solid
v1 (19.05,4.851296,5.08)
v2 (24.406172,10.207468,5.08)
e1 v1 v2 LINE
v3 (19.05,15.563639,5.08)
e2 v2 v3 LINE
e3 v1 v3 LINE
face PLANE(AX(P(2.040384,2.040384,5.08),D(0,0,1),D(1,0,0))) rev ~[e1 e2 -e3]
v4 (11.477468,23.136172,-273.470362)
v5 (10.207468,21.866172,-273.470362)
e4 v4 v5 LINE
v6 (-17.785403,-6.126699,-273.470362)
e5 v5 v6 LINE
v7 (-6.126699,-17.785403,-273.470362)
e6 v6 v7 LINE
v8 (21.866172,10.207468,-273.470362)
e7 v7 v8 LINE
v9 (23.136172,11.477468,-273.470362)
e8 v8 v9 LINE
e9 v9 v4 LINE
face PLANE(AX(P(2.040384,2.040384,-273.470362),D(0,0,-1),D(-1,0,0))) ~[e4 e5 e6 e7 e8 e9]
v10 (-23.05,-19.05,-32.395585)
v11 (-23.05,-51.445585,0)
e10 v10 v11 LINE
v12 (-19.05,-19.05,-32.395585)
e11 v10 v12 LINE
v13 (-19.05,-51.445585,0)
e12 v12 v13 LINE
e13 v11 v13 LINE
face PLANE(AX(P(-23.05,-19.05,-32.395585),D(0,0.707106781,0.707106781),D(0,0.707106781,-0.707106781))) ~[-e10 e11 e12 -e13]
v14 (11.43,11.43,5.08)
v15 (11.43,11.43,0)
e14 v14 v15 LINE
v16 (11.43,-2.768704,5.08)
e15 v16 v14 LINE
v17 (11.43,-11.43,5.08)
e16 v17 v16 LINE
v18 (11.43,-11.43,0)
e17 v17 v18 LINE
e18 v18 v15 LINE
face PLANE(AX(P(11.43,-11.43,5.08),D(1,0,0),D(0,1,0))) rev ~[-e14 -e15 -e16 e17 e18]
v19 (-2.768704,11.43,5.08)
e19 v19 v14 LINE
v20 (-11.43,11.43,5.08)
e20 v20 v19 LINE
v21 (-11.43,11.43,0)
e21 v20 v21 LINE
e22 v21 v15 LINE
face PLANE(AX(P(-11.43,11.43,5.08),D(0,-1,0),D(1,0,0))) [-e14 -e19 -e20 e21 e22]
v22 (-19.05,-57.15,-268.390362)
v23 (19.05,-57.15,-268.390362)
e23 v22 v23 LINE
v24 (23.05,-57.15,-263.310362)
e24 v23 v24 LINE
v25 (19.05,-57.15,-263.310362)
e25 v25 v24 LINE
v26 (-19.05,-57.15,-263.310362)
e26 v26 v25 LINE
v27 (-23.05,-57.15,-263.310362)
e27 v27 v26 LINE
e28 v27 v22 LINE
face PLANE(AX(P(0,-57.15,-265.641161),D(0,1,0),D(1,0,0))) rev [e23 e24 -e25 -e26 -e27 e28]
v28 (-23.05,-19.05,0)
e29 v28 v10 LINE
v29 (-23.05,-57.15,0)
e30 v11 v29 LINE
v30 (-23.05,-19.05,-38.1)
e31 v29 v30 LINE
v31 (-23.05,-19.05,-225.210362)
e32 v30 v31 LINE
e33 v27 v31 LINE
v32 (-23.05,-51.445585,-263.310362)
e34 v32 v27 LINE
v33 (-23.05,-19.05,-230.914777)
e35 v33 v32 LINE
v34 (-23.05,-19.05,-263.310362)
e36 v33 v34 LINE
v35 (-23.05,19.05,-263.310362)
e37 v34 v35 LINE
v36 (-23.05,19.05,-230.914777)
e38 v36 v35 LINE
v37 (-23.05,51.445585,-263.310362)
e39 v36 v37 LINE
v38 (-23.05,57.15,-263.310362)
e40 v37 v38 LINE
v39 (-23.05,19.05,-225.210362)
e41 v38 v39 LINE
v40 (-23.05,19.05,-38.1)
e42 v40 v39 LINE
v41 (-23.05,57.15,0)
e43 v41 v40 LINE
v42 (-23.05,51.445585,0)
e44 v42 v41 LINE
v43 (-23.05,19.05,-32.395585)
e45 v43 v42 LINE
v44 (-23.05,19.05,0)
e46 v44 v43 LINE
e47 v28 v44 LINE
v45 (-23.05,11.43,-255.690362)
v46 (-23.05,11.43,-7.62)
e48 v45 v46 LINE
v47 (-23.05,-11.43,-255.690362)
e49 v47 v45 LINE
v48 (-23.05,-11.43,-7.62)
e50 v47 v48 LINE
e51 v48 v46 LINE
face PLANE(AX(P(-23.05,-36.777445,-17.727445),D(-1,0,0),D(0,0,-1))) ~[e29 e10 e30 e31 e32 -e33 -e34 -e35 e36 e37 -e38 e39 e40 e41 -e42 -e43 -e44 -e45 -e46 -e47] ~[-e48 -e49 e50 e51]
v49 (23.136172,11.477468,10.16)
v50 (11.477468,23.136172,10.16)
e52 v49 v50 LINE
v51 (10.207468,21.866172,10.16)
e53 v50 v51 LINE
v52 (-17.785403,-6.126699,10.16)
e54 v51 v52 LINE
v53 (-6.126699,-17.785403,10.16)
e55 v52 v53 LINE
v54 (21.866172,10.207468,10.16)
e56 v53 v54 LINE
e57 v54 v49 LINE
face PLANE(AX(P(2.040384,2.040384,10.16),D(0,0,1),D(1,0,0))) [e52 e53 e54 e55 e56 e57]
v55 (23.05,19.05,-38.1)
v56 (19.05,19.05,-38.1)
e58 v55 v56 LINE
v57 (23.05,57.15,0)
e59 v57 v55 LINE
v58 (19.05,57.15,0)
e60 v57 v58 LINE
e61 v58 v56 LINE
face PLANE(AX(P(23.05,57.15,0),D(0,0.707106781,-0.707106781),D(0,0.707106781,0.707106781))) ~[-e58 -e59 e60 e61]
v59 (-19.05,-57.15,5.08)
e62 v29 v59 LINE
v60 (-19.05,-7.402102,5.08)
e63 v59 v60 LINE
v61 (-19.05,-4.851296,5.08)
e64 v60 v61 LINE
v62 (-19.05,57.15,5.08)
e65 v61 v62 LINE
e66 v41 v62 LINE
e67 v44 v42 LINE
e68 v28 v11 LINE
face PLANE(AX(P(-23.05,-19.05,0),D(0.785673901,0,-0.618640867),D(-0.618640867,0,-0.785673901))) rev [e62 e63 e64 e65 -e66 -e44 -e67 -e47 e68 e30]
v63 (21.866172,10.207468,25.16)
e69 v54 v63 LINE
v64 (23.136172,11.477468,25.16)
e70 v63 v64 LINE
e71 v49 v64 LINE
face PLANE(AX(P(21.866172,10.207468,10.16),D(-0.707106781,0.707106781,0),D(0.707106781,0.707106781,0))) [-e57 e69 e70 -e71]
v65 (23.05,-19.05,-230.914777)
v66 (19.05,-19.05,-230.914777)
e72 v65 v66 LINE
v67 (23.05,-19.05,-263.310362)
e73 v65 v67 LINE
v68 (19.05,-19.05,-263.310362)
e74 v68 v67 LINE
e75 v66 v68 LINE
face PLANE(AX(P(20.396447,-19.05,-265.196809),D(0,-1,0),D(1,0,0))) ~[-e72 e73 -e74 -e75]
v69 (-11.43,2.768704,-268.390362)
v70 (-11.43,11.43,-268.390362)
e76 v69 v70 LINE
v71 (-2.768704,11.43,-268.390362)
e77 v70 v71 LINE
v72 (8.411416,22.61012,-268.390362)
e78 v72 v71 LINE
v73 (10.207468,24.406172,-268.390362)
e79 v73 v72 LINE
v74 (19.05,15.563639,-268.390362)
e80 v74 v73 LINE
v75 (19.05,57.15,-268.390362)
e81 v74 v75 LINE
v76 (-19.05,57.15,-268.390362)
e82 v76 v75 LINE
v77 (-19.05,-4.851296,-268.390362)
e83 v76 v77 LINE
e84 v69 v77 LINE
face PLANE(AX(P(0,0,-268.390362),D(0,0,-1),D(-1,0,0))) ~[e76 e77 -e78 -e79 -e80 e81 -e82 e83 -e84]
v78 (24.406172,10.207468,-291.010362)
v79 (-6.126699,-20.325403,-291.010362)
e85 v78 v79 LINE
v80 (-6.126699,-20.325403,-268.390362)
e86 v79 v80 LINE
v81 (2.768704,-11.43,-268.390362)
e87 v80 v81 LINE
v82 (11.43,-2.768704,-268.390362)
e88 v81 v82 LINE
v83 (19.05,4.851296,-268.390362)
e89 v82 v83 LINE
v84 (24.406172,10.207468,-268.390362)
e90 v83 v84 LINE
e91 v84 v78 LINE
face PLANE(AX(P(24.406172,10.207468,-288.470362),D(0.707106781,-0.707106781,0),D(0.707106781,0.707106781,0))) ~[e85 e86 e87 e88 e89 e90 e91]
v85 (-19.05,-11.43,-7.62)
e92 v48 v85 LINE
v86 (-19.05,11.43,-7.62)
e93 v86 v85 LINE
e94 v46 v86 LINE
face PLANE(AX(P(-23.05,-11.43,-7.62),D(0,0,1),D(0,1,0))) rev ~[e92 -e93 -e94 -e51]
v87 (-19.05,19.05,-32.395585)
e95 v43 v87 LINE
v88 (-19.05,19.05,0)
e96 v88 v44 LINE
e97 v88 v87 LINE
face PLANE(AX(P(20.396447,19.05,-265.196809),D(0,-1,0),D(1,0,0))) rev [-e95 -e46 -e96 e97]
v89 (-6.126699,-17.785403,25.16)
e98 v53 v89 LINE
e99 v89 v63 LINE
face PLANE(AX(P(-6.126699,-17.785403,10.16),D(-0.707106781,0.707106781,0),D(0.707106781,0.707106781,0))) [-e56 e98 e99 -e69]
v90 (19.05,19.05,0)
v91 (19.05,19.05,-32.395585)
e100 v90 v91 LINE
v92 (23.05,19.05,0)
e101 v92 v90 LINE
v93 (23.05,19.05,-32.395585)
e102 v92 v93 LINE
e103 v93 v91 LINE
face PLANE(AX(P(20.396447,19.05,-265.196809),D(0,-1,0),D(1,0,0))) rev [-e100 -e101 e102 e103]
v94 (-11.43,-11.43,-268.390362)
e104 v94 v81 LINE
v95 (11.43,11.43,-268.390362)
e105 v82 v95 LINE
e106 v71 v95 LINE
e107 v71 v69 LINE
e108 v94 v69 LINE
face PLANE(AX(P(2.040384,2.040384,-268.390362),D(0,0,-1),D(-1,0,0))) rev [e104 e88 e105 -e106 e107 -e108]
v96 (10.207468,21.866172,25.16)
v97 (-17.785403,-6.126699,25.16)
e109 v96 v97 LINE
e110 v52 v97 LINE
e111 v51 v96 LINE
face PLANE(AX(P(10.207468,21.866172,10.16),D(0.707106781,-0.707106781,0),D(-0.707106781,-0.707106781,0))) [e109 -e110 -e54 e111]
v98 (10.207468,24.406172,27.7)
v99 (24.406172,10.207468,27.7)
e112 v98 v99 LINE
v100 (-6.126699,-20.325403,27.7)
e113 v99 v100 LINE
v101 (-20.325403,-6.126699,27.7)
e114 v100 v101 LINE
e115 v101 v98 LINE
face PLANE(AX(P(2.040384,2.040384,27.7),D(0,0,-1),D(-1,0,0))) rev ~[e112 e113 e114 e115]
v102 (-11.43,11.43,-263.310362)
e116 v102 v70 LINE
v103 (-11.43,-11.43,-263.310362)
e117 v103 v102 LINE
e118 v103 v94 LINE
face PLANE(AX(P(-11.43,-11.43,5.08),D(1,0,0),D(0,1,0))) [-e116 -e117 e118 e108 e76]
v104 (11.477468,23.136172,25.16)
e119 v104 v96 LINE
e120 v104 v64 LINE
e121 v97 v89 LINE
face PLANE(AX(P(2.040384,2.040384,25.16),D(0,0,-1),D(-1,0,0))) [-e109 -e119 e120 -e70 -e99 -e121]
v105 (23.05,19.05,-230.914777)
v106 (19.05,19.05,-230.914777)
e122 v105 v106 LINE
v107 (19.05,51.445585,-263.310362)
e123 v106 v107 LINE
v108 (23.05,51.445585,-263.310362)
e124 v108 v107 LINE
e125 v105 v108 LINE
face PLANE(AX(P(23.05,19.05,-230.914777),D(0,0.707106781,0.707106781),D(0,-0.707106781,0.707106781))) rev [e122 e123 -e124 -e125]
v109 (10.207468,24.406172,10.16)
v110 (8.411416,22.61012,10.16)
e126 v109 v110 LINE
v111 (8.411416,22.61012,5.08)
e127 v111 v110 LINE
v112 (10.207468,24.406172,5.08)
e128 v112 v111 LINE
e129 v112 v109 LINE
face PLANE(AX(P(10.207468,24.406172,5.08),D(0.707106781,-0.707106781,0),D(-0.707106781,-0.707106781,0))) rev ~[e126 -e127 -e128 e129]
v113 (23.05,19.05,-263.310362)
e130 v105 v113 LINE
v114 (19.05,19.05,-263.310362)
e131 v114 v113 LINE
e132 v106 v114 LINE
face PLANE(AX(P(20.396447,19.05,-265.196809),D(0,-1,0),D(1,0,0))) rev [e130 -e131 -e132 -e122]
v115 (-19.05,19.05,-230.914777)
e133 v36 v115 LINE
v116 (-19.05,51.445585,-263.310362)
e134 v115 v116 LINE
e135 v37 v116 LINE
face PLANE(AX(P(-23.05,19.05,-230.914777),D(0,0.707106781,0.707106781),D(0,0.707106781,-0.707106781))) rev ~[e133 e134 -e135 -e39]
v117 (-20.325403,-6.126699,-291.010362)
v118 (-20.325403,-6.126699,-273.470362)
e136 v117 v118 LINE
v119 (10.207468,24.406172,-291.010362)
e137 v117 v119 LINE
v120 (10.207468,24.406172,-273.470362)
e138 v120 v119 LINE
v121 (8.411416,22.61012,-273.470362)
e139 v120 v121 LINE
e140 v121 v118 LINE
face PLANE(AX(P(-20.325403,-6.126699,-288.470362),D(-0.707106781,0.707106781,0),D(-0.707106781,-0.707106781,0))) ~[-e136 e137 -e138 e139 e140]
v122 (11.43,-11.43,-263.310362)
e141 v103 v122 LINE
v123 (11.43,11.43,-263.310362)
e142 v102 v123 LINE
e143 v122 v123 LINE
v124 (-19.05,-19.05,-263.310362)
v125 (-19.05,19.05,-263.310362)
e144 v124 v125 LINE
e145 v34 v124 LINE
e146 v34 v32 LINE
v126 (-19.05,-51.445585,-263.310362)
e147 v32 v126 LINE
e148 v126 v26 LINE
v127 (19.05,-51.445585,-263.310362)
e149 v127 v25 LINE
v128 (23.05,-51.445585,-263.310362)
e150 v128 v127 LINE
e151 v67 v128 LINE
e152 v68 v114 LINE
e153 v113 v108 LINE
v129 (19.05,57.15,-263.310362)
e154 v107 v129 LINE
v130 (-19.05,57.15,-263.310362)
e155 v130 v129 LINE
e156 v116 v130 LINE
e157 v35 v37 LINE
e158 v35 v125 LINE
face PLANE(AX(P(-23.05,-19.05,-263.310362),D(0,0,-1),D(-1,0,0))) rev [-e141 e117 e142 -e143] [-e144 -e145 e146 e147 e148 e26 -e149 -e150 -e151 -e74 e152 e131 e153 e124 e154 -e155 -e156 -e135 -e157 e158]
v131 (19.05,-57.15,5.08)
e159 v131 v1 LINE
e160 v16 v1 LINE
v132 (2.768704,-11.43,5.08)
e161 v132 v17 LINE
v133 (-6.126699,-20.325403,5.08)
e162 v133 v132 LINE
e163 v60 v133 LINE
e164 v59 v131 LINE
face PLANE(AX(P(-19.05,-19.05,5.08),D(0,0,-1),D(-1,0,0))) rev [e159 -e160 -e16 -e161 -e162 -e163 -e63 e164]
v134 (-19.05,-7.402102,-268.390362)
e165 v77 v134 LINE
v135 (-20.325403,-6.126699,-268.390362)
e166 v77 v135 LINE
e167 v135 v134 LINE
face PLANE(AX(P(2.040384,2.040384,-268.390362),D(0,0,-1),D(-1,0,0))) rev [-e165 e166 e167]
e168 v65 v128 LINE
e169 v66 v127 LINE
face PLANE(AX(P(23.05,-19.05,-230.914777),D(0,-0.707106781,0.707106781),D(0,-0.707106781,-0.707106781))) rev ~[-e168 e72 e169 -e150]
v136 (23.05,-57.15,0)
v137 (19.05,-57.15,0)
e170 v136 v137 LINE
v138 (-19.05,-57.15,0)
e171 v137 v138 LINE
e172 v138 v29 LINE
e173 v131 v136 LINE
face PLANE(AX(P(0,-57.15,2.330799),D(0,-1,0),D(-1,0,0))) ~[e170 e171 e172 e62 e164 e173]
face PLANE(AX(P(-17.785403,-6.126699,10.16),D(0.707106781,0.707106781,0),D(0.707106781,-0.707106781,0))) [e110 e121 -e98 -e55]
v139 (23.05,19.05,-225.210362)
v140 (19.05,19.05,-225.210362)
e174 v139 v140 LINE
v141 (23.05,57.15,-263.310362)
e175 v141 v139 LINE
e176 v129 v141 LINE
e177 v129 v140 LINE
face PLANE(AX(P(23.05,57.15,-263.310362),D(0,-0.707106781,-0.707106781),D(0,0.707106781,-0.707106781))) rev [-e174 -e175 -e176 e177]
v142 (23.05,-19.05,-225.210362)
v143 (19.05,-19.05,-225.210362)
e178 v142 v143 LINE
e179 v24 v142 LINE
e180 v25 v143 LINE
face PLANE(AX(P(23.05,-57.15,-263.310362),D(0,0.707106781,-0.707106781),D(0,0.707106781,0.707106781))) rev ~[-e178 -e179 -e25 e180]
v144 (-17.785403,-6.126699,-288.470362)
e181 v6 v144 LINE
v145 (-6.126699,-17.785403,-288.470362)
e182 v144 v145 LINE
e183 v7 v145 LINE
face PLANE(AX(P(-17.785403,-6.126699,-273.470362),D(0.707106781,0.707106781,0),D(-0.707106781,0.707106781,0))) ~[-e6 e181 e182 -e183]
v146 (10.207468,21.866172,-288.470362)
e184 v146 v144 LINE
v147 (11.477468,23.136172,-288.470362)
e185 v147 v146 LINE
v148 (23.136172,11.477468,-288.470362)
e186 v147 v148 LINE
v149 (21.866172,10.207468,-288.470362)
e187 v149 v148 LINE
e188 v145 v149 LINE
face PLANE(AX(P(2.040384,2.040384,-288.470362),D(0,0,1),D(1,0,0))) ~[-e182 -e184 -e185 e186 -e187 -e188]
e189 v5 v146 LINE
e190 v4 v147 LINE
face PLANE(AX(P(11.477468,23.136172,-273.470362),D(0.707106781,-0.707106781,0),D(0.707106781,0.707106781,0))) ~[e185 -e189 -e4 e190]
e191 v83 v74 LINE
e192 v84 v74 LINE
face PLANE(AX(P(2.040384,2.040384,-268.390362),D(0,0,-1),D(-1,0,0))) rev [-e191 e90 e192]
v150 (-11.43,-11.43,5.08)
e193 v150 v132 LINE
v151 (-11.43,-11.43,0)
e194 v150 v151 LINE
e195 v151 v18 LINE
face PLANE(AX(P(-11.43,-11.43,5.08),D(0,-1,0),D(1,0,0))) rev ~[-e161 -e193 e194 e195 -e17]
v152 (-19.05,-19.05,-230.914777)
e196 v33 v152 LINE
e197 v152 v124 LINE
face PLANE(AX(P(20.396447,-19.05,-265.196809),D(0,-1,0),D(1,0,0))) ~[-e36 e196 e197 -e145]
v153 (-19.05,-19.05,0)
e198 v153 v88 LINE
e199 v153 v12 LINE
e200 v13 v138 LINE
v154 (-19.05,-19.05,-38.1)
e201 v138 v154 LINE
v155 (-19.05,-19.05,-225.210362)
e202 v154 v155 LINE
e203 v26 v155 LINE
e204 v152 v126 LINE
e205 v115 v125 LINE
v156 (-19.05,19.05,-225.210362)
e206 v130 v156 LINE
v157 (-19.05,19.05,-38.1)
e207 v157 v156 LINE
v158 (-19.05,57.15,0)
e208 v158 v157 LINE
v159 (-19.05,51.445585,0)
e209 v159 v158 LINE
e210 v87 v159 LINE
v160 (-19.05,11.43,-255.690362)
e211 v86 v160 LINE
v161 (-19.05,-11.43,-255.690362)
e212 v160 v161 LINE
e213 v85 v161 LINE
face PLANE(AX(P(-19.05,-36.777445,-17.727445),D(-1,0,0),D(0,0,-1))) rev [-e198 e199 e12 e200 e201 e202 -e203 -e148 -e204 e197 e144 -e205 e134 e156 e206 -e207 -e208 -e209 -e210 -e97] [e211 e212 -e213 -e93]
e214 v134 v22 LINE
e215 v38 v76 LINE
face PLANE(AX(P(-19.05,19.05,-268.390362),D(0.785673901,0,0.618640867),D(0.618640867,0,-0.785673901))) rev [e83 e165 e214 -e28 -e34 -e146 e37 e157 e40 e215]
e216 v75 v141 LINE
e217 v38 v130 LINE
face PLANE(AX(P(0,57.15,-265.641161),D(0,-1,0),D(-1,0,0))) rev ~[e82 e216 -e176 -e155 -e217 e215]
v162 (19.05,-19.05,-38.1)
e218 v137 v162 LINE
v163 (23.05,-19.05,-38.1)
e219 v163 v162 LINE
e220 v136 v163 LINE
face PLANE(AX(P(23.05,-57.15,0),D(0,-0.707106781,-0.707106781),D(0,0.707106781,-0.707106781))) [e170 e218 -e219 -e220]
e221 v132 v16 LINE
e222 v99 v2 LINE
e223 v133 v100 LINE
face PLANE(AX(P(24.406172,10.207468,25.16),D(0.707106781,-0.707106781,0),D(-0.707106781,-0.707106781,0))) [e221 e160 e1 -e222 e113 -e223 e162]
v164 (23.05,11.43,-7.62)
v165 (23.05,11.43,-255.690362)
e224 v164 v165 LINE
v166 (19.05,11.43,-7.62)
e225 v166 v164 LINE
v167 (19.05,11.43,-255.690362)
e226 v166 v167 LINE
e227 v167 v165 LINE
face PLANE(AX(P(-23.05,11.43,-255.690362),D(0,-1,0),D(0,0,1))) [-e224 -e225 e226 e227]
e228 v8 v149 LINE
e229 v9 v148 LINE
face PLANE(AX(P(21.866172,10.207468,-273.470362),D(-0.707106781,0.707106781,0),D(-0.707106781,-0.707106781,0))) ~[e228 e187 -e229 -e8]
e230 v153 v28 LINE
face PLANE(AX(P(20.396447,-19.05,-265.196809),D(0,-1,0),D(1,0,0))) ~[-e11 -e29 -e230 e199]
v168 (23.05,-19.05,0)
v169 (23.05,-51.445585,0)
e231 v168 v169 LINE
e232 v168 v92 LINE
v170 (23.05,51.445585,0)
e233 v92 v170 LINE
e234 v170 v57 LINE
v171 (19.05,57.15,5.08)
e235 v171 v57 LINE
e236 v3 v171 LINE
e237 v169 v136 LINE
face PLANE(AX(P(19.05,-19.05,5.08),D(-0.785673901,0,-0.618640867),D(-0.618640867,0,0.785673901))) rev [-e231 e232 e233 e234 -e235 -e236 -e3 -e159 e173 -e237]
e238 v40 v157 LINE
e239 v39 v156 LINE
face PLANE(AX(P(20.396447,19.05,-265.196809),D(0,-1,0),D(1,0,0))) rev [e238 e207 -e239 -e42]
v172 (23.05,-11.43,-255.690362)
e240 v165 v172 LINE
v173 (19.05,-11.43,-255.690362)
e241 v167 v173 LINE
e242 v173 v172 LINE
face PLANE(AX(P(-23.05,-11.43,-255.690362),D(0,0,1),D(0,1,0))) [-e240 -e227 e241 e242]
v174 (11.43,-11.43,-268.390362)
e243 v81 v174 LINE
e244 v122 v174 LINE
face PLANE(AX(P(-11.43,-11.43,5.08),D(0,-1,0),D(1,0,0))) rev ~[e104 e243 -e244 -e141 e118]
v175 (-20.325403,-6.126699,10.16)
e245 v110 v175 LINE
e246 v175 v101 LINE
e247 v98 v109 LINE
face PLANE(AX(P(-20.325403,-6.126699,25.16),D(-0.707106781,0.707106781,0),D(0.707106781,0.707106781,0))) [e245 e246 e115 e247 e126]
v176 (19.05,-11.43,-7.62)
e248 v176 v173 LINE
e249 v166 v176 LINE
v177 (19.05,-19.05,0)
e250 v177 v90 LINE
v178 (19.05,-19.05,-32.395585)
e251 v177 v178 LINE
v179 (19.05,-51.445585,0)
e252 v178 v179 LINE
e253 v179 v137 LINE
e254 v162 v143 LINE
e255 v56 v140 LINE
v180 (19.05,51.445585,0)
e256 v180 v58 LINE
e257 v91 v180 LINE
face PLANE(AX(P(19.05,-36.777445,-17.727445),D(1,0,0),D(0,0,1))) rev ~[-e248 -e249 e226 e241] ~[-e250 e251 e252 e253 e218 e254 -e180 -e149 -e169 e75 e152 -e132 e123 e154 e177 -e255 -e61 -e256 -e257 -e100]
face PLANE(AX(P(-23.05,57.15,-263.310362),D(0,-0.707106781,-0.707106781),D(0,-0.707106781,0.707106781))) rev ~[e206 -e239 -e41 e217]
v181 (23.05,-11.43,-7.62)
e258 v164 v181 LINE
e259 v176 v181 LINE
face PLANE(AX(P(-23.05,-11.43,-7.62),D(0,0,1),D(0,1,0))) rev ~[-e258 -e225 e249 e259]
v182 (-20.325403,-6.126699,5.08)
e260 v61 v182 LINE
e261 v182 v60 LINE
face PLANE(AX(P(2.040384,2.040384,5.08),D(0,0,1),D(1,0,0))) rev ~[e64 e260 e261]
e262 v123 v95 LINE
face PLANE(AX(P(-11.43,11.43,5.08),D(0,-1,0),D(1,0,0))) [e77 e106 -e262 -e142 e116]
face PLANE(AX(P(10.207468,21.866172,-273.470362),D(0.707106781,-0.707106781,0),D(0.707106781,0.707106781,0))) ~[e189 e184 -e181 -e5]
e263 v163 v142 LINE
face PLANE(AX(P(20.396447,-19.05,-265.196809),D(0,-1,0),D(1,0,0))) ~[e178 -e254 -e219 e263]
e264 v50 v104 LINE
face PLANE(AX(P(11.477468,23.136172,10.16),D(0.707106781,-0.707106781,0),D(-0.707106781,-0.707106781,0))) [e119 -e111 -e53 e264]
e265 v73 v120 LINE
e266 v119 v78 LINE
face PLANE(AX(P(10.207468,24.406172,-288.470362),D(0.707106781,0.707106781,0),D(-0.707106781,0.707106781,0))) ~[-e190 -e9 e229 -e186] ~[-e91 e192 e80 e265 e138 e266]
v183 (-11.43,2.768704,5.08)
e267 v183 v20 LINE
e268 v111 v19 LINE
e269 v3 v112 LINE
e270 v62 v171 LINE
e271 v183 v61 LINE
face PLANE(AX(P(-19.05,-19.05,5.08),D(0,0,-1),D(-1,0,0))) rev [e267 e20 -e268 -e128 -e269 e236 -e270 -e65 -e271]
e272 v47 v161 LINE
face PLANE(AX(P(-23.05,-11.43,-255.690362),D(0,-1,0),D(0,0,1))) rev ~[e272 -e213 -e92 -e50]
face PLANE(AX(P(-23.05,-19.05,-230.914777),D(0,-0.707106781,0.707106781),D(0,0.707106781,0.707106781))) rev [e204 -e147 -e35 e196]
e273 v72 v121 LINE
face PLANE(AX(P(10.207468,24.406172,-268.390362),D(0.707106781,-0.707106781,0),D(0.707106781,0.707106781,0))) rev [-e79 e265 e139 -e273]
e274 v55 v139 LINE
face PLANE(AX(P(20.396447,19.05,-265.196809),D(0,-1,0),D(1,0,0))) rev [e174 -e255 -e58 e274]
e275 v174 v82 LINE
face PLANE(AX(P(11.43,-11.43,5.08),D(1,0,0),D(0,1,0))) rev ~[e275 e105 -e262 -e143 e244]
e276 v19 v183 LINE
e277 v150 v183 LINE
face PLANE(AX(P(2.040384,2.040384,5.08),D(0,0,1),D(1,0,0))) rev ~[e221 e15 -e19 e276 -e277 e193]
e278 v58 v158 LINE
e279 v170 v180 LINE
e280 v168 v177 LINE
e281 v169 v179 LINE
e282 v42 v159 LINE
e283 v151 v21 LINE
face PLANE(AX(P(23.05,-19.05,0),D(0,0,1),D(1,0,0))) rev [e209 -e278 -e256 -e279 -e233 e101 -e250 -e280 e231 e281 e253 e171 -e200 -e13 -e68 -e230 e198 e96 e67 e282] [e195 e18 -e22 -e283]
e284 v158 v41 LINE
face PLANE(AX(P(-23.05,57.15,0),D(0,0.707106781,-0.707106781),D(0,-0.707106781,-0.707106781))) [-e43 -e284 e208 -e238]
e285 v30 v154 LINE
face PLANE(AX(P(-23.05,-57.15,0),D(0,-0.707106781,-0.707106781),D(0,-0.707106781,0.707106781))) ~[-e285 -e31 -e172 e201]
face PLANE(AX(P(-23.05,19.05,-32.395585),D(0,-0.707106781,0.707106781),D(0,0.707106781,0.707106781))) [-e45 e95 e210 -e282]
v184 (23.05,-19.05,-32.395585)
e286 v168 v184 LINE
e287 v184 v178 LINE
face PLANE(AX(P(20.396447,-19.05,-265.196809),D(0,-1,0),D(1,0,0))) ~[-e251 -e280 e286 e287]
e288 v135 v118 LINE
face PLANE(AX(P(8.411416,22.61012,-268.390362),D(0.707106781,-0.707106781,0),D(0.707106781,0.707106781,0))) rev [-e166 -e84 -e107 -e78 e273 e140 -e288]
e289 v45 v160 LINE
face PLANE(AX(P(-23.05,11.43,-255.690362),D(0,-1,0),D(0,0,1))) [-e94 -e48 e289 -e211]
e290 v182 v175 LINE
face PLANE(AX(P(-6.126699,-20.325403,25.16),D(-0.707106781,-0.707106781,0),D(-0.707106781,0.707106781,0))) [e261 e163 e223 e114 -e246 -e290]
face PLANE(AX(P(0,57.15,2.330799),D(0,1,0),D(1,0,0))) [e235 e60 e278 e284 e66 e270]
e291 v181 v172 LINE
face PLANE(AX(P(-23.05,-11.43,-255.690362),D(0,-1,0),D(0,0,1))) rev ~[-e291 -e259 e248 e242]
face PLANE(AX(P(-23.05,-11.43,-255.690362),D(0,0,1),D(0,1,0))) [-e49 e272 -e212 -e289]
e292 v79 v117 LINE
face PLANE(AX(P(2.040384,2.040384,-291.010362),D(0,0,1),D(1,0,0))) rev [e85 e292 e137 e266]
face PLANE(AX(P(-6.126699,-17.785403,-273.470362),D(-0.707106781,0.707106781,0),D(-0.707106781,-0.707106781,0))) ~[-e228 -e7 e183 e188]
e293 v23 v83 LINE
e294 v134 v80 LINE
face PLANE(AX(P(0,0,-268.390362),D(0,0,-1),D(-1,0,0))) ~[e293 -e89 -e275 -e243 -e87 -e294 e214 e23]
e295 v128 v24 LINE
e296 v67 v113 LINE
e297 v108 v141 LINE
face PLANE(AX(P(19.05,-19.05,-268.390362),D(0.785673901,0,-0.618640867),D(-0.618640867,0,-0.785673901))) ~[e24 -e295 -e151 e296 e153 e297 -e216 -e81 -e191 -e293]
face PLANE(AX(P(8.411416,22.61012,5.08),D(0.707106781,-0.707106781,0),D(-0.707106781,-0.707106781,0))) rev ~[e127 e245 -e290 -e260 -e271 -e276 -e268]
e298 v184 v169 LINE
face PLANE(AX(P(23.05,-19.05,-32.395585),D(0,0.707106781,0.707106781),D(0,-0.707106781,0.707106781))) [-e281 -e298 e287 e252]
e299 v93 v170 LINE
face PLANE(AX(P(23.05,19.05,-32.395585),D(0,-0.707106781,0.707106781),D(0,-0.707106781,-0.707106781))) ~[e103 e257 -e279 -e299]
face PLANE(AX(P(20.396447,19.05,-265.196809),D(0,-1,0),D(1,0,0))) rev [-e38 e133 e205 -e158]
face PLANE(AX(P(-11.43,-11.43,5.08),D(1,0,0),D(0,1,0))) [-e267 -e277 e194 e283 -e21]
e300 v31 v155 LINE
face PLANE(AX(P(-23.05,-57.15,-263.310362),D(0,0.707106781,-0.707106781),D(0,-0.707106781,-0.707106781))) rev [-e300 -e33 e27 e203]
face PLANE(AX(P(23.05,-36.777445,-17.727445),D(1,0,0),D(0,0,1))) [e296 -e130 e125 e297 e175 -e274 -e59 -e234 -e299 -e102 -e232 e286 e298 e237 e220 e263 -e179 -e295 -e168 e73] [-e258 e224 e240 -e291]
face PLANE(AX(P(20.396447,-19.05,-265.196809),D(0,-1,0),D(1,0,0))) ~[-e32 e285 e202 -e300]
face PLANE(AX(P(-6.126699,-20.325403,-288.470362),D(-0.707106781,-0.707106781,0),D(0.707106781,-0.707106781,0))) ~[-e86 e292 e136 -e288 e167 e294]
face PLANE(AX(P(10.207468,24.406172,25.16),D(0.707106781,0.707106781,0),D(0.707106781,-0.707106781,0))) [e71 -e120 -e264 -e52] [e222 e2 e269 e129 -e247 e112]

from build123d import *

# Parameters (mm, degrees)
SKETCH1_W             = 38.1
SKETCH1_H             = 38.1
BOSS_EXTRUDE1_DEPTH   = 5.08
SKETCH2_W             = 4
SKETCH2_H             = 38.1
BOSS_EXTRUDE2_DEPTH   = 263.31036223
BOSS_EXTRUDE2_2_DEPTH = 263.31036223
BOSS_EXTRUDE4_DEPTH   = 38.1
SKETCH5_W             = 22.86
SKETCH5_H             = 22.86
CUT_EXTRUDE1_DEPTH    = 354.24236223
SKETCH6_W             = 248.07036223
SKETCH6_H             = 22.86
CUT_EXTRUDE2_DEPTH    = 354.24236223
BOSS_EXTRUDE5_DEPTH   = 38.1
BOSS_EXTRUDE6_DEPTH   = 4
MIRROR9_COPY_1_DEPTH  = 4
BOSS_EXTRUDE8_DEPTH   = 5.08
BOSS_EXTRUDE9_DEPTH   = 15
BOSS_EXTRUDE10_DEPTH  = 2.54


with BuildPart() as part:
    # Sketch1 → Boss-Extrude1 (new body)
    with BuildSketch(Plane.XY):
        Rectangle(SKETCH1_W, SKETCH1_H)
    extrude(amount=BOSS_EXTRUDE1_DEPTH)



with BuildPart() as body_2:
    # Sketch2 → Boss-Extrude2 (new body)
    with BuildSketch(Plane(origin=(0, 0, 0), x_dir=(-1, 0, 0), z_dir=(0, 0, -1))):
        with Locations((21.05, 0)):
            Rectangle(SKETCH2_W, SKETCH2_H)
    extrude(amount=BOSS_EXTRUDE2_DEPTH)


with BuildPart() as body_3:
    # Sketch2 → Boss-Extrude2 2 (new body)
    with BuildSketch(Plane(origin=(0, 0, 0), x_dir=(-1, 0, 0), z_dir=(0, 0, -1))):
        with Locations((-21.05, 0)):
            Rectangle(SKETCH2_W, SKETCH2_H)
    extrude(amount=BOSS_EXTRUDE2_2_DEPTH)


with BuildPart() as part_1:
    add(part.part)

    add(body_2.part)  # Boss-Extrude4 merges body 2

    add(body_3.part)  # Boss-Extrude4 merges body 3
    # Sketch4 → Boss-Extrude4 (add)
    with BuildSketch(Plane(origin=(0, 19.05, 0), x_dir=(1, 0, 0), z_dir=(0, 1, 0))):
        Polygon((23.05, 0), (19.05, -5.08), (19.05, 0), align=None)
        Polygon((-19.05, 0), (-19.05, -5.08), (-23.05, 0), align=None)
    extrude(amount=-BOSS_EXTRUDE4_DEPTH)

    # Mirror2: part across plane


with BuildPart() as part_2:
    add(part_1.part)
    add(part_1.part.mirror(Plane(origin=(0, 0, -131.655181115), x_dir=(1, 0, 0), z_dir=(0, 0, -1))))

    # Sketch5 → Cut-Extrude1 (cut)
    with BuildSketch(Plane.XY.offset(5.08)):
        Rectangle(SKETCH5_W, SKETCH5_H)
    extrude(amount=-CUT_EXTRUDE1_DEPTH, mode=Mode.SUBTRACT)

    # Sketch6 → Cut-Extrude2 (cut)
    with BuildSketch(Plane.ZY.offset(23.05)):
        with Locations((-131.655181115, 0)):
            Rectangle(SKETCH6_W, SKETCH6_H)
    extrude(amount=-CUT_EXTRUDE2_DEPTH, mode=Mode.SUBTRACT)

    # Sketch7 → Boss-Extrude5 (add)
    with BuildSketch(Plane(origin=(0, 19.05, 0), x_dir=(1, 0, 0), z_dir=(0, 1, 0))):
        Polygon((-19.05, 0), (-23.05, 0), (-19.05, -5.08), (19.05, -5.08), (23.05, 0), (19.05, 0), align=None)
        Polygon((19.05, 268.39036223), (23.05, 263.31036223), (19.05, 263.31036223), (-19.05, 263.31036223), (-23.05, 263.31036223), (-19.05, 268.39036223), align=None)
    boss_extrude5 = extrude(amount=BOSS_EXTRUDE5_DEPTH)

    # Sketch8 → Boss-Extrude6 (add)
    with BuildSketch(Plane.ZY.offset(23.05)):
        Polygon((0, 57.15), (-38.1, 19.05), (-32.395584898, 19.05), (0, 51.445584898), align=None)
        Polygon((-230.914777332, 19.05), (-263.31036223, 51.445584898), (-263.31036223, 57.15), (-225.21036223, 19.05), align=None)
    boss_extrude6 = extrude(amount=-BOSS_EXTRUDE6_DEPTH)

    # Mirror8: Boss-Extrude6 across plane
    add(boss_extrude6.mirror(Plane(origin=(0, 0, 0), x_dir=(0, 0, 1), z_dir=(1, 0, 0))))

    # Mirror9: Boss-Extrude5, Boss-Extrude6 across plane
    add(boss_extrude5.mirror(Plane.ZX))
    add(boss_extrude6.mirror(Plane.ZX))

    # Mirror9 copy 1 sketch → Mirror9 copy 1 (add)
    with BuildSketch(Plane(origin=(23.05, 0, 0), x_dir=(0, 0, 1), z_dir=(1, 0, 0))):
        Polygon((0, 57.15), (-38.1, 19.05), (-32.395584898, 19.05), (0, 51.445584898), align=None)
        Polygon((-230.914777332, 19.05), (-263.31036223, 51.445584898), (-263.31036223, 57.15), (-225.21036223, 19.05), align=None)
    extrude(amount=-MIRROR9_COPY_1_DEPTH)

    # Sketch11 → Boss-Extrude8 (add)
    with BuildSketch(Plane.XY.offset(5.08)):
        Polygon((-18.529352083, -7.922750365), (-7.922750365, -18.529352083), (-6.126699141, -20.325403307), (24.406171671, 10.207467504), (10.207467504, 24.406171671), (8.41141628, 22.610120446), (-20.325403307, -6.126699141), align=None)
    boss_extrude8 = extrude(amount=BOSS_EXTRUDE8_DEPTH)

    # Sketch12 → Boss-Extrude9 (add)
    with BuildSketch(Plane.XY.offset(10.16)):
        Polygon((24.406171671, 10.207467504), (-6.126699141, -20.325403307), (-20.325403307, -6.126699141), (10.207467504, 24.406171671), (11.477467504, 23.136171671), (10.207467504, 21.866171671), (-17.785403307, -6.126699141), (-6.126699141, -17.785403307), (21.866171671, 10.207467504), (23.136171671, 11.477467504), align=None)
    boss_extrude9 = extrude(amount=BOSS_EXTRUDE9_DEPTH)

    # Sketch13 → Boss-Extrude10 (add)
    with BuildSketch(Plane.XY.offset(25.16)):
        Polygon((-20.325403307, -6.126699141), (10.207467504, 24.406171671), (24.406171671, 10.207467504), (-6.126699141, -20.325403307), align=None)
    boss_extrude10 = extrude(amount=BOSS_EXTRUDE10_DEPTH)

    # Mirror12: Boss-Extrude8, Boss-Extrude9, Boss-Extrude10 across plane
    add(boss_extrude8.mirror(Plane(origin=(0, 0, -131.655181115), x_dir=(1, 0, 0), z_dir=(0, 0, -1))))
    add(boss_extrude9.mirror(Plane(origin=(0, 0, -131.655181115), x_dir=(1, 0, 0), z_dir=(0, 0, -1))))
    add(boss_extrude10.mirror(Plane(origin=(0, 0, -131.655181115), x_dir=(1, 0, 0), z_dir=(0, 0, -1))))


solid = part_2.part
